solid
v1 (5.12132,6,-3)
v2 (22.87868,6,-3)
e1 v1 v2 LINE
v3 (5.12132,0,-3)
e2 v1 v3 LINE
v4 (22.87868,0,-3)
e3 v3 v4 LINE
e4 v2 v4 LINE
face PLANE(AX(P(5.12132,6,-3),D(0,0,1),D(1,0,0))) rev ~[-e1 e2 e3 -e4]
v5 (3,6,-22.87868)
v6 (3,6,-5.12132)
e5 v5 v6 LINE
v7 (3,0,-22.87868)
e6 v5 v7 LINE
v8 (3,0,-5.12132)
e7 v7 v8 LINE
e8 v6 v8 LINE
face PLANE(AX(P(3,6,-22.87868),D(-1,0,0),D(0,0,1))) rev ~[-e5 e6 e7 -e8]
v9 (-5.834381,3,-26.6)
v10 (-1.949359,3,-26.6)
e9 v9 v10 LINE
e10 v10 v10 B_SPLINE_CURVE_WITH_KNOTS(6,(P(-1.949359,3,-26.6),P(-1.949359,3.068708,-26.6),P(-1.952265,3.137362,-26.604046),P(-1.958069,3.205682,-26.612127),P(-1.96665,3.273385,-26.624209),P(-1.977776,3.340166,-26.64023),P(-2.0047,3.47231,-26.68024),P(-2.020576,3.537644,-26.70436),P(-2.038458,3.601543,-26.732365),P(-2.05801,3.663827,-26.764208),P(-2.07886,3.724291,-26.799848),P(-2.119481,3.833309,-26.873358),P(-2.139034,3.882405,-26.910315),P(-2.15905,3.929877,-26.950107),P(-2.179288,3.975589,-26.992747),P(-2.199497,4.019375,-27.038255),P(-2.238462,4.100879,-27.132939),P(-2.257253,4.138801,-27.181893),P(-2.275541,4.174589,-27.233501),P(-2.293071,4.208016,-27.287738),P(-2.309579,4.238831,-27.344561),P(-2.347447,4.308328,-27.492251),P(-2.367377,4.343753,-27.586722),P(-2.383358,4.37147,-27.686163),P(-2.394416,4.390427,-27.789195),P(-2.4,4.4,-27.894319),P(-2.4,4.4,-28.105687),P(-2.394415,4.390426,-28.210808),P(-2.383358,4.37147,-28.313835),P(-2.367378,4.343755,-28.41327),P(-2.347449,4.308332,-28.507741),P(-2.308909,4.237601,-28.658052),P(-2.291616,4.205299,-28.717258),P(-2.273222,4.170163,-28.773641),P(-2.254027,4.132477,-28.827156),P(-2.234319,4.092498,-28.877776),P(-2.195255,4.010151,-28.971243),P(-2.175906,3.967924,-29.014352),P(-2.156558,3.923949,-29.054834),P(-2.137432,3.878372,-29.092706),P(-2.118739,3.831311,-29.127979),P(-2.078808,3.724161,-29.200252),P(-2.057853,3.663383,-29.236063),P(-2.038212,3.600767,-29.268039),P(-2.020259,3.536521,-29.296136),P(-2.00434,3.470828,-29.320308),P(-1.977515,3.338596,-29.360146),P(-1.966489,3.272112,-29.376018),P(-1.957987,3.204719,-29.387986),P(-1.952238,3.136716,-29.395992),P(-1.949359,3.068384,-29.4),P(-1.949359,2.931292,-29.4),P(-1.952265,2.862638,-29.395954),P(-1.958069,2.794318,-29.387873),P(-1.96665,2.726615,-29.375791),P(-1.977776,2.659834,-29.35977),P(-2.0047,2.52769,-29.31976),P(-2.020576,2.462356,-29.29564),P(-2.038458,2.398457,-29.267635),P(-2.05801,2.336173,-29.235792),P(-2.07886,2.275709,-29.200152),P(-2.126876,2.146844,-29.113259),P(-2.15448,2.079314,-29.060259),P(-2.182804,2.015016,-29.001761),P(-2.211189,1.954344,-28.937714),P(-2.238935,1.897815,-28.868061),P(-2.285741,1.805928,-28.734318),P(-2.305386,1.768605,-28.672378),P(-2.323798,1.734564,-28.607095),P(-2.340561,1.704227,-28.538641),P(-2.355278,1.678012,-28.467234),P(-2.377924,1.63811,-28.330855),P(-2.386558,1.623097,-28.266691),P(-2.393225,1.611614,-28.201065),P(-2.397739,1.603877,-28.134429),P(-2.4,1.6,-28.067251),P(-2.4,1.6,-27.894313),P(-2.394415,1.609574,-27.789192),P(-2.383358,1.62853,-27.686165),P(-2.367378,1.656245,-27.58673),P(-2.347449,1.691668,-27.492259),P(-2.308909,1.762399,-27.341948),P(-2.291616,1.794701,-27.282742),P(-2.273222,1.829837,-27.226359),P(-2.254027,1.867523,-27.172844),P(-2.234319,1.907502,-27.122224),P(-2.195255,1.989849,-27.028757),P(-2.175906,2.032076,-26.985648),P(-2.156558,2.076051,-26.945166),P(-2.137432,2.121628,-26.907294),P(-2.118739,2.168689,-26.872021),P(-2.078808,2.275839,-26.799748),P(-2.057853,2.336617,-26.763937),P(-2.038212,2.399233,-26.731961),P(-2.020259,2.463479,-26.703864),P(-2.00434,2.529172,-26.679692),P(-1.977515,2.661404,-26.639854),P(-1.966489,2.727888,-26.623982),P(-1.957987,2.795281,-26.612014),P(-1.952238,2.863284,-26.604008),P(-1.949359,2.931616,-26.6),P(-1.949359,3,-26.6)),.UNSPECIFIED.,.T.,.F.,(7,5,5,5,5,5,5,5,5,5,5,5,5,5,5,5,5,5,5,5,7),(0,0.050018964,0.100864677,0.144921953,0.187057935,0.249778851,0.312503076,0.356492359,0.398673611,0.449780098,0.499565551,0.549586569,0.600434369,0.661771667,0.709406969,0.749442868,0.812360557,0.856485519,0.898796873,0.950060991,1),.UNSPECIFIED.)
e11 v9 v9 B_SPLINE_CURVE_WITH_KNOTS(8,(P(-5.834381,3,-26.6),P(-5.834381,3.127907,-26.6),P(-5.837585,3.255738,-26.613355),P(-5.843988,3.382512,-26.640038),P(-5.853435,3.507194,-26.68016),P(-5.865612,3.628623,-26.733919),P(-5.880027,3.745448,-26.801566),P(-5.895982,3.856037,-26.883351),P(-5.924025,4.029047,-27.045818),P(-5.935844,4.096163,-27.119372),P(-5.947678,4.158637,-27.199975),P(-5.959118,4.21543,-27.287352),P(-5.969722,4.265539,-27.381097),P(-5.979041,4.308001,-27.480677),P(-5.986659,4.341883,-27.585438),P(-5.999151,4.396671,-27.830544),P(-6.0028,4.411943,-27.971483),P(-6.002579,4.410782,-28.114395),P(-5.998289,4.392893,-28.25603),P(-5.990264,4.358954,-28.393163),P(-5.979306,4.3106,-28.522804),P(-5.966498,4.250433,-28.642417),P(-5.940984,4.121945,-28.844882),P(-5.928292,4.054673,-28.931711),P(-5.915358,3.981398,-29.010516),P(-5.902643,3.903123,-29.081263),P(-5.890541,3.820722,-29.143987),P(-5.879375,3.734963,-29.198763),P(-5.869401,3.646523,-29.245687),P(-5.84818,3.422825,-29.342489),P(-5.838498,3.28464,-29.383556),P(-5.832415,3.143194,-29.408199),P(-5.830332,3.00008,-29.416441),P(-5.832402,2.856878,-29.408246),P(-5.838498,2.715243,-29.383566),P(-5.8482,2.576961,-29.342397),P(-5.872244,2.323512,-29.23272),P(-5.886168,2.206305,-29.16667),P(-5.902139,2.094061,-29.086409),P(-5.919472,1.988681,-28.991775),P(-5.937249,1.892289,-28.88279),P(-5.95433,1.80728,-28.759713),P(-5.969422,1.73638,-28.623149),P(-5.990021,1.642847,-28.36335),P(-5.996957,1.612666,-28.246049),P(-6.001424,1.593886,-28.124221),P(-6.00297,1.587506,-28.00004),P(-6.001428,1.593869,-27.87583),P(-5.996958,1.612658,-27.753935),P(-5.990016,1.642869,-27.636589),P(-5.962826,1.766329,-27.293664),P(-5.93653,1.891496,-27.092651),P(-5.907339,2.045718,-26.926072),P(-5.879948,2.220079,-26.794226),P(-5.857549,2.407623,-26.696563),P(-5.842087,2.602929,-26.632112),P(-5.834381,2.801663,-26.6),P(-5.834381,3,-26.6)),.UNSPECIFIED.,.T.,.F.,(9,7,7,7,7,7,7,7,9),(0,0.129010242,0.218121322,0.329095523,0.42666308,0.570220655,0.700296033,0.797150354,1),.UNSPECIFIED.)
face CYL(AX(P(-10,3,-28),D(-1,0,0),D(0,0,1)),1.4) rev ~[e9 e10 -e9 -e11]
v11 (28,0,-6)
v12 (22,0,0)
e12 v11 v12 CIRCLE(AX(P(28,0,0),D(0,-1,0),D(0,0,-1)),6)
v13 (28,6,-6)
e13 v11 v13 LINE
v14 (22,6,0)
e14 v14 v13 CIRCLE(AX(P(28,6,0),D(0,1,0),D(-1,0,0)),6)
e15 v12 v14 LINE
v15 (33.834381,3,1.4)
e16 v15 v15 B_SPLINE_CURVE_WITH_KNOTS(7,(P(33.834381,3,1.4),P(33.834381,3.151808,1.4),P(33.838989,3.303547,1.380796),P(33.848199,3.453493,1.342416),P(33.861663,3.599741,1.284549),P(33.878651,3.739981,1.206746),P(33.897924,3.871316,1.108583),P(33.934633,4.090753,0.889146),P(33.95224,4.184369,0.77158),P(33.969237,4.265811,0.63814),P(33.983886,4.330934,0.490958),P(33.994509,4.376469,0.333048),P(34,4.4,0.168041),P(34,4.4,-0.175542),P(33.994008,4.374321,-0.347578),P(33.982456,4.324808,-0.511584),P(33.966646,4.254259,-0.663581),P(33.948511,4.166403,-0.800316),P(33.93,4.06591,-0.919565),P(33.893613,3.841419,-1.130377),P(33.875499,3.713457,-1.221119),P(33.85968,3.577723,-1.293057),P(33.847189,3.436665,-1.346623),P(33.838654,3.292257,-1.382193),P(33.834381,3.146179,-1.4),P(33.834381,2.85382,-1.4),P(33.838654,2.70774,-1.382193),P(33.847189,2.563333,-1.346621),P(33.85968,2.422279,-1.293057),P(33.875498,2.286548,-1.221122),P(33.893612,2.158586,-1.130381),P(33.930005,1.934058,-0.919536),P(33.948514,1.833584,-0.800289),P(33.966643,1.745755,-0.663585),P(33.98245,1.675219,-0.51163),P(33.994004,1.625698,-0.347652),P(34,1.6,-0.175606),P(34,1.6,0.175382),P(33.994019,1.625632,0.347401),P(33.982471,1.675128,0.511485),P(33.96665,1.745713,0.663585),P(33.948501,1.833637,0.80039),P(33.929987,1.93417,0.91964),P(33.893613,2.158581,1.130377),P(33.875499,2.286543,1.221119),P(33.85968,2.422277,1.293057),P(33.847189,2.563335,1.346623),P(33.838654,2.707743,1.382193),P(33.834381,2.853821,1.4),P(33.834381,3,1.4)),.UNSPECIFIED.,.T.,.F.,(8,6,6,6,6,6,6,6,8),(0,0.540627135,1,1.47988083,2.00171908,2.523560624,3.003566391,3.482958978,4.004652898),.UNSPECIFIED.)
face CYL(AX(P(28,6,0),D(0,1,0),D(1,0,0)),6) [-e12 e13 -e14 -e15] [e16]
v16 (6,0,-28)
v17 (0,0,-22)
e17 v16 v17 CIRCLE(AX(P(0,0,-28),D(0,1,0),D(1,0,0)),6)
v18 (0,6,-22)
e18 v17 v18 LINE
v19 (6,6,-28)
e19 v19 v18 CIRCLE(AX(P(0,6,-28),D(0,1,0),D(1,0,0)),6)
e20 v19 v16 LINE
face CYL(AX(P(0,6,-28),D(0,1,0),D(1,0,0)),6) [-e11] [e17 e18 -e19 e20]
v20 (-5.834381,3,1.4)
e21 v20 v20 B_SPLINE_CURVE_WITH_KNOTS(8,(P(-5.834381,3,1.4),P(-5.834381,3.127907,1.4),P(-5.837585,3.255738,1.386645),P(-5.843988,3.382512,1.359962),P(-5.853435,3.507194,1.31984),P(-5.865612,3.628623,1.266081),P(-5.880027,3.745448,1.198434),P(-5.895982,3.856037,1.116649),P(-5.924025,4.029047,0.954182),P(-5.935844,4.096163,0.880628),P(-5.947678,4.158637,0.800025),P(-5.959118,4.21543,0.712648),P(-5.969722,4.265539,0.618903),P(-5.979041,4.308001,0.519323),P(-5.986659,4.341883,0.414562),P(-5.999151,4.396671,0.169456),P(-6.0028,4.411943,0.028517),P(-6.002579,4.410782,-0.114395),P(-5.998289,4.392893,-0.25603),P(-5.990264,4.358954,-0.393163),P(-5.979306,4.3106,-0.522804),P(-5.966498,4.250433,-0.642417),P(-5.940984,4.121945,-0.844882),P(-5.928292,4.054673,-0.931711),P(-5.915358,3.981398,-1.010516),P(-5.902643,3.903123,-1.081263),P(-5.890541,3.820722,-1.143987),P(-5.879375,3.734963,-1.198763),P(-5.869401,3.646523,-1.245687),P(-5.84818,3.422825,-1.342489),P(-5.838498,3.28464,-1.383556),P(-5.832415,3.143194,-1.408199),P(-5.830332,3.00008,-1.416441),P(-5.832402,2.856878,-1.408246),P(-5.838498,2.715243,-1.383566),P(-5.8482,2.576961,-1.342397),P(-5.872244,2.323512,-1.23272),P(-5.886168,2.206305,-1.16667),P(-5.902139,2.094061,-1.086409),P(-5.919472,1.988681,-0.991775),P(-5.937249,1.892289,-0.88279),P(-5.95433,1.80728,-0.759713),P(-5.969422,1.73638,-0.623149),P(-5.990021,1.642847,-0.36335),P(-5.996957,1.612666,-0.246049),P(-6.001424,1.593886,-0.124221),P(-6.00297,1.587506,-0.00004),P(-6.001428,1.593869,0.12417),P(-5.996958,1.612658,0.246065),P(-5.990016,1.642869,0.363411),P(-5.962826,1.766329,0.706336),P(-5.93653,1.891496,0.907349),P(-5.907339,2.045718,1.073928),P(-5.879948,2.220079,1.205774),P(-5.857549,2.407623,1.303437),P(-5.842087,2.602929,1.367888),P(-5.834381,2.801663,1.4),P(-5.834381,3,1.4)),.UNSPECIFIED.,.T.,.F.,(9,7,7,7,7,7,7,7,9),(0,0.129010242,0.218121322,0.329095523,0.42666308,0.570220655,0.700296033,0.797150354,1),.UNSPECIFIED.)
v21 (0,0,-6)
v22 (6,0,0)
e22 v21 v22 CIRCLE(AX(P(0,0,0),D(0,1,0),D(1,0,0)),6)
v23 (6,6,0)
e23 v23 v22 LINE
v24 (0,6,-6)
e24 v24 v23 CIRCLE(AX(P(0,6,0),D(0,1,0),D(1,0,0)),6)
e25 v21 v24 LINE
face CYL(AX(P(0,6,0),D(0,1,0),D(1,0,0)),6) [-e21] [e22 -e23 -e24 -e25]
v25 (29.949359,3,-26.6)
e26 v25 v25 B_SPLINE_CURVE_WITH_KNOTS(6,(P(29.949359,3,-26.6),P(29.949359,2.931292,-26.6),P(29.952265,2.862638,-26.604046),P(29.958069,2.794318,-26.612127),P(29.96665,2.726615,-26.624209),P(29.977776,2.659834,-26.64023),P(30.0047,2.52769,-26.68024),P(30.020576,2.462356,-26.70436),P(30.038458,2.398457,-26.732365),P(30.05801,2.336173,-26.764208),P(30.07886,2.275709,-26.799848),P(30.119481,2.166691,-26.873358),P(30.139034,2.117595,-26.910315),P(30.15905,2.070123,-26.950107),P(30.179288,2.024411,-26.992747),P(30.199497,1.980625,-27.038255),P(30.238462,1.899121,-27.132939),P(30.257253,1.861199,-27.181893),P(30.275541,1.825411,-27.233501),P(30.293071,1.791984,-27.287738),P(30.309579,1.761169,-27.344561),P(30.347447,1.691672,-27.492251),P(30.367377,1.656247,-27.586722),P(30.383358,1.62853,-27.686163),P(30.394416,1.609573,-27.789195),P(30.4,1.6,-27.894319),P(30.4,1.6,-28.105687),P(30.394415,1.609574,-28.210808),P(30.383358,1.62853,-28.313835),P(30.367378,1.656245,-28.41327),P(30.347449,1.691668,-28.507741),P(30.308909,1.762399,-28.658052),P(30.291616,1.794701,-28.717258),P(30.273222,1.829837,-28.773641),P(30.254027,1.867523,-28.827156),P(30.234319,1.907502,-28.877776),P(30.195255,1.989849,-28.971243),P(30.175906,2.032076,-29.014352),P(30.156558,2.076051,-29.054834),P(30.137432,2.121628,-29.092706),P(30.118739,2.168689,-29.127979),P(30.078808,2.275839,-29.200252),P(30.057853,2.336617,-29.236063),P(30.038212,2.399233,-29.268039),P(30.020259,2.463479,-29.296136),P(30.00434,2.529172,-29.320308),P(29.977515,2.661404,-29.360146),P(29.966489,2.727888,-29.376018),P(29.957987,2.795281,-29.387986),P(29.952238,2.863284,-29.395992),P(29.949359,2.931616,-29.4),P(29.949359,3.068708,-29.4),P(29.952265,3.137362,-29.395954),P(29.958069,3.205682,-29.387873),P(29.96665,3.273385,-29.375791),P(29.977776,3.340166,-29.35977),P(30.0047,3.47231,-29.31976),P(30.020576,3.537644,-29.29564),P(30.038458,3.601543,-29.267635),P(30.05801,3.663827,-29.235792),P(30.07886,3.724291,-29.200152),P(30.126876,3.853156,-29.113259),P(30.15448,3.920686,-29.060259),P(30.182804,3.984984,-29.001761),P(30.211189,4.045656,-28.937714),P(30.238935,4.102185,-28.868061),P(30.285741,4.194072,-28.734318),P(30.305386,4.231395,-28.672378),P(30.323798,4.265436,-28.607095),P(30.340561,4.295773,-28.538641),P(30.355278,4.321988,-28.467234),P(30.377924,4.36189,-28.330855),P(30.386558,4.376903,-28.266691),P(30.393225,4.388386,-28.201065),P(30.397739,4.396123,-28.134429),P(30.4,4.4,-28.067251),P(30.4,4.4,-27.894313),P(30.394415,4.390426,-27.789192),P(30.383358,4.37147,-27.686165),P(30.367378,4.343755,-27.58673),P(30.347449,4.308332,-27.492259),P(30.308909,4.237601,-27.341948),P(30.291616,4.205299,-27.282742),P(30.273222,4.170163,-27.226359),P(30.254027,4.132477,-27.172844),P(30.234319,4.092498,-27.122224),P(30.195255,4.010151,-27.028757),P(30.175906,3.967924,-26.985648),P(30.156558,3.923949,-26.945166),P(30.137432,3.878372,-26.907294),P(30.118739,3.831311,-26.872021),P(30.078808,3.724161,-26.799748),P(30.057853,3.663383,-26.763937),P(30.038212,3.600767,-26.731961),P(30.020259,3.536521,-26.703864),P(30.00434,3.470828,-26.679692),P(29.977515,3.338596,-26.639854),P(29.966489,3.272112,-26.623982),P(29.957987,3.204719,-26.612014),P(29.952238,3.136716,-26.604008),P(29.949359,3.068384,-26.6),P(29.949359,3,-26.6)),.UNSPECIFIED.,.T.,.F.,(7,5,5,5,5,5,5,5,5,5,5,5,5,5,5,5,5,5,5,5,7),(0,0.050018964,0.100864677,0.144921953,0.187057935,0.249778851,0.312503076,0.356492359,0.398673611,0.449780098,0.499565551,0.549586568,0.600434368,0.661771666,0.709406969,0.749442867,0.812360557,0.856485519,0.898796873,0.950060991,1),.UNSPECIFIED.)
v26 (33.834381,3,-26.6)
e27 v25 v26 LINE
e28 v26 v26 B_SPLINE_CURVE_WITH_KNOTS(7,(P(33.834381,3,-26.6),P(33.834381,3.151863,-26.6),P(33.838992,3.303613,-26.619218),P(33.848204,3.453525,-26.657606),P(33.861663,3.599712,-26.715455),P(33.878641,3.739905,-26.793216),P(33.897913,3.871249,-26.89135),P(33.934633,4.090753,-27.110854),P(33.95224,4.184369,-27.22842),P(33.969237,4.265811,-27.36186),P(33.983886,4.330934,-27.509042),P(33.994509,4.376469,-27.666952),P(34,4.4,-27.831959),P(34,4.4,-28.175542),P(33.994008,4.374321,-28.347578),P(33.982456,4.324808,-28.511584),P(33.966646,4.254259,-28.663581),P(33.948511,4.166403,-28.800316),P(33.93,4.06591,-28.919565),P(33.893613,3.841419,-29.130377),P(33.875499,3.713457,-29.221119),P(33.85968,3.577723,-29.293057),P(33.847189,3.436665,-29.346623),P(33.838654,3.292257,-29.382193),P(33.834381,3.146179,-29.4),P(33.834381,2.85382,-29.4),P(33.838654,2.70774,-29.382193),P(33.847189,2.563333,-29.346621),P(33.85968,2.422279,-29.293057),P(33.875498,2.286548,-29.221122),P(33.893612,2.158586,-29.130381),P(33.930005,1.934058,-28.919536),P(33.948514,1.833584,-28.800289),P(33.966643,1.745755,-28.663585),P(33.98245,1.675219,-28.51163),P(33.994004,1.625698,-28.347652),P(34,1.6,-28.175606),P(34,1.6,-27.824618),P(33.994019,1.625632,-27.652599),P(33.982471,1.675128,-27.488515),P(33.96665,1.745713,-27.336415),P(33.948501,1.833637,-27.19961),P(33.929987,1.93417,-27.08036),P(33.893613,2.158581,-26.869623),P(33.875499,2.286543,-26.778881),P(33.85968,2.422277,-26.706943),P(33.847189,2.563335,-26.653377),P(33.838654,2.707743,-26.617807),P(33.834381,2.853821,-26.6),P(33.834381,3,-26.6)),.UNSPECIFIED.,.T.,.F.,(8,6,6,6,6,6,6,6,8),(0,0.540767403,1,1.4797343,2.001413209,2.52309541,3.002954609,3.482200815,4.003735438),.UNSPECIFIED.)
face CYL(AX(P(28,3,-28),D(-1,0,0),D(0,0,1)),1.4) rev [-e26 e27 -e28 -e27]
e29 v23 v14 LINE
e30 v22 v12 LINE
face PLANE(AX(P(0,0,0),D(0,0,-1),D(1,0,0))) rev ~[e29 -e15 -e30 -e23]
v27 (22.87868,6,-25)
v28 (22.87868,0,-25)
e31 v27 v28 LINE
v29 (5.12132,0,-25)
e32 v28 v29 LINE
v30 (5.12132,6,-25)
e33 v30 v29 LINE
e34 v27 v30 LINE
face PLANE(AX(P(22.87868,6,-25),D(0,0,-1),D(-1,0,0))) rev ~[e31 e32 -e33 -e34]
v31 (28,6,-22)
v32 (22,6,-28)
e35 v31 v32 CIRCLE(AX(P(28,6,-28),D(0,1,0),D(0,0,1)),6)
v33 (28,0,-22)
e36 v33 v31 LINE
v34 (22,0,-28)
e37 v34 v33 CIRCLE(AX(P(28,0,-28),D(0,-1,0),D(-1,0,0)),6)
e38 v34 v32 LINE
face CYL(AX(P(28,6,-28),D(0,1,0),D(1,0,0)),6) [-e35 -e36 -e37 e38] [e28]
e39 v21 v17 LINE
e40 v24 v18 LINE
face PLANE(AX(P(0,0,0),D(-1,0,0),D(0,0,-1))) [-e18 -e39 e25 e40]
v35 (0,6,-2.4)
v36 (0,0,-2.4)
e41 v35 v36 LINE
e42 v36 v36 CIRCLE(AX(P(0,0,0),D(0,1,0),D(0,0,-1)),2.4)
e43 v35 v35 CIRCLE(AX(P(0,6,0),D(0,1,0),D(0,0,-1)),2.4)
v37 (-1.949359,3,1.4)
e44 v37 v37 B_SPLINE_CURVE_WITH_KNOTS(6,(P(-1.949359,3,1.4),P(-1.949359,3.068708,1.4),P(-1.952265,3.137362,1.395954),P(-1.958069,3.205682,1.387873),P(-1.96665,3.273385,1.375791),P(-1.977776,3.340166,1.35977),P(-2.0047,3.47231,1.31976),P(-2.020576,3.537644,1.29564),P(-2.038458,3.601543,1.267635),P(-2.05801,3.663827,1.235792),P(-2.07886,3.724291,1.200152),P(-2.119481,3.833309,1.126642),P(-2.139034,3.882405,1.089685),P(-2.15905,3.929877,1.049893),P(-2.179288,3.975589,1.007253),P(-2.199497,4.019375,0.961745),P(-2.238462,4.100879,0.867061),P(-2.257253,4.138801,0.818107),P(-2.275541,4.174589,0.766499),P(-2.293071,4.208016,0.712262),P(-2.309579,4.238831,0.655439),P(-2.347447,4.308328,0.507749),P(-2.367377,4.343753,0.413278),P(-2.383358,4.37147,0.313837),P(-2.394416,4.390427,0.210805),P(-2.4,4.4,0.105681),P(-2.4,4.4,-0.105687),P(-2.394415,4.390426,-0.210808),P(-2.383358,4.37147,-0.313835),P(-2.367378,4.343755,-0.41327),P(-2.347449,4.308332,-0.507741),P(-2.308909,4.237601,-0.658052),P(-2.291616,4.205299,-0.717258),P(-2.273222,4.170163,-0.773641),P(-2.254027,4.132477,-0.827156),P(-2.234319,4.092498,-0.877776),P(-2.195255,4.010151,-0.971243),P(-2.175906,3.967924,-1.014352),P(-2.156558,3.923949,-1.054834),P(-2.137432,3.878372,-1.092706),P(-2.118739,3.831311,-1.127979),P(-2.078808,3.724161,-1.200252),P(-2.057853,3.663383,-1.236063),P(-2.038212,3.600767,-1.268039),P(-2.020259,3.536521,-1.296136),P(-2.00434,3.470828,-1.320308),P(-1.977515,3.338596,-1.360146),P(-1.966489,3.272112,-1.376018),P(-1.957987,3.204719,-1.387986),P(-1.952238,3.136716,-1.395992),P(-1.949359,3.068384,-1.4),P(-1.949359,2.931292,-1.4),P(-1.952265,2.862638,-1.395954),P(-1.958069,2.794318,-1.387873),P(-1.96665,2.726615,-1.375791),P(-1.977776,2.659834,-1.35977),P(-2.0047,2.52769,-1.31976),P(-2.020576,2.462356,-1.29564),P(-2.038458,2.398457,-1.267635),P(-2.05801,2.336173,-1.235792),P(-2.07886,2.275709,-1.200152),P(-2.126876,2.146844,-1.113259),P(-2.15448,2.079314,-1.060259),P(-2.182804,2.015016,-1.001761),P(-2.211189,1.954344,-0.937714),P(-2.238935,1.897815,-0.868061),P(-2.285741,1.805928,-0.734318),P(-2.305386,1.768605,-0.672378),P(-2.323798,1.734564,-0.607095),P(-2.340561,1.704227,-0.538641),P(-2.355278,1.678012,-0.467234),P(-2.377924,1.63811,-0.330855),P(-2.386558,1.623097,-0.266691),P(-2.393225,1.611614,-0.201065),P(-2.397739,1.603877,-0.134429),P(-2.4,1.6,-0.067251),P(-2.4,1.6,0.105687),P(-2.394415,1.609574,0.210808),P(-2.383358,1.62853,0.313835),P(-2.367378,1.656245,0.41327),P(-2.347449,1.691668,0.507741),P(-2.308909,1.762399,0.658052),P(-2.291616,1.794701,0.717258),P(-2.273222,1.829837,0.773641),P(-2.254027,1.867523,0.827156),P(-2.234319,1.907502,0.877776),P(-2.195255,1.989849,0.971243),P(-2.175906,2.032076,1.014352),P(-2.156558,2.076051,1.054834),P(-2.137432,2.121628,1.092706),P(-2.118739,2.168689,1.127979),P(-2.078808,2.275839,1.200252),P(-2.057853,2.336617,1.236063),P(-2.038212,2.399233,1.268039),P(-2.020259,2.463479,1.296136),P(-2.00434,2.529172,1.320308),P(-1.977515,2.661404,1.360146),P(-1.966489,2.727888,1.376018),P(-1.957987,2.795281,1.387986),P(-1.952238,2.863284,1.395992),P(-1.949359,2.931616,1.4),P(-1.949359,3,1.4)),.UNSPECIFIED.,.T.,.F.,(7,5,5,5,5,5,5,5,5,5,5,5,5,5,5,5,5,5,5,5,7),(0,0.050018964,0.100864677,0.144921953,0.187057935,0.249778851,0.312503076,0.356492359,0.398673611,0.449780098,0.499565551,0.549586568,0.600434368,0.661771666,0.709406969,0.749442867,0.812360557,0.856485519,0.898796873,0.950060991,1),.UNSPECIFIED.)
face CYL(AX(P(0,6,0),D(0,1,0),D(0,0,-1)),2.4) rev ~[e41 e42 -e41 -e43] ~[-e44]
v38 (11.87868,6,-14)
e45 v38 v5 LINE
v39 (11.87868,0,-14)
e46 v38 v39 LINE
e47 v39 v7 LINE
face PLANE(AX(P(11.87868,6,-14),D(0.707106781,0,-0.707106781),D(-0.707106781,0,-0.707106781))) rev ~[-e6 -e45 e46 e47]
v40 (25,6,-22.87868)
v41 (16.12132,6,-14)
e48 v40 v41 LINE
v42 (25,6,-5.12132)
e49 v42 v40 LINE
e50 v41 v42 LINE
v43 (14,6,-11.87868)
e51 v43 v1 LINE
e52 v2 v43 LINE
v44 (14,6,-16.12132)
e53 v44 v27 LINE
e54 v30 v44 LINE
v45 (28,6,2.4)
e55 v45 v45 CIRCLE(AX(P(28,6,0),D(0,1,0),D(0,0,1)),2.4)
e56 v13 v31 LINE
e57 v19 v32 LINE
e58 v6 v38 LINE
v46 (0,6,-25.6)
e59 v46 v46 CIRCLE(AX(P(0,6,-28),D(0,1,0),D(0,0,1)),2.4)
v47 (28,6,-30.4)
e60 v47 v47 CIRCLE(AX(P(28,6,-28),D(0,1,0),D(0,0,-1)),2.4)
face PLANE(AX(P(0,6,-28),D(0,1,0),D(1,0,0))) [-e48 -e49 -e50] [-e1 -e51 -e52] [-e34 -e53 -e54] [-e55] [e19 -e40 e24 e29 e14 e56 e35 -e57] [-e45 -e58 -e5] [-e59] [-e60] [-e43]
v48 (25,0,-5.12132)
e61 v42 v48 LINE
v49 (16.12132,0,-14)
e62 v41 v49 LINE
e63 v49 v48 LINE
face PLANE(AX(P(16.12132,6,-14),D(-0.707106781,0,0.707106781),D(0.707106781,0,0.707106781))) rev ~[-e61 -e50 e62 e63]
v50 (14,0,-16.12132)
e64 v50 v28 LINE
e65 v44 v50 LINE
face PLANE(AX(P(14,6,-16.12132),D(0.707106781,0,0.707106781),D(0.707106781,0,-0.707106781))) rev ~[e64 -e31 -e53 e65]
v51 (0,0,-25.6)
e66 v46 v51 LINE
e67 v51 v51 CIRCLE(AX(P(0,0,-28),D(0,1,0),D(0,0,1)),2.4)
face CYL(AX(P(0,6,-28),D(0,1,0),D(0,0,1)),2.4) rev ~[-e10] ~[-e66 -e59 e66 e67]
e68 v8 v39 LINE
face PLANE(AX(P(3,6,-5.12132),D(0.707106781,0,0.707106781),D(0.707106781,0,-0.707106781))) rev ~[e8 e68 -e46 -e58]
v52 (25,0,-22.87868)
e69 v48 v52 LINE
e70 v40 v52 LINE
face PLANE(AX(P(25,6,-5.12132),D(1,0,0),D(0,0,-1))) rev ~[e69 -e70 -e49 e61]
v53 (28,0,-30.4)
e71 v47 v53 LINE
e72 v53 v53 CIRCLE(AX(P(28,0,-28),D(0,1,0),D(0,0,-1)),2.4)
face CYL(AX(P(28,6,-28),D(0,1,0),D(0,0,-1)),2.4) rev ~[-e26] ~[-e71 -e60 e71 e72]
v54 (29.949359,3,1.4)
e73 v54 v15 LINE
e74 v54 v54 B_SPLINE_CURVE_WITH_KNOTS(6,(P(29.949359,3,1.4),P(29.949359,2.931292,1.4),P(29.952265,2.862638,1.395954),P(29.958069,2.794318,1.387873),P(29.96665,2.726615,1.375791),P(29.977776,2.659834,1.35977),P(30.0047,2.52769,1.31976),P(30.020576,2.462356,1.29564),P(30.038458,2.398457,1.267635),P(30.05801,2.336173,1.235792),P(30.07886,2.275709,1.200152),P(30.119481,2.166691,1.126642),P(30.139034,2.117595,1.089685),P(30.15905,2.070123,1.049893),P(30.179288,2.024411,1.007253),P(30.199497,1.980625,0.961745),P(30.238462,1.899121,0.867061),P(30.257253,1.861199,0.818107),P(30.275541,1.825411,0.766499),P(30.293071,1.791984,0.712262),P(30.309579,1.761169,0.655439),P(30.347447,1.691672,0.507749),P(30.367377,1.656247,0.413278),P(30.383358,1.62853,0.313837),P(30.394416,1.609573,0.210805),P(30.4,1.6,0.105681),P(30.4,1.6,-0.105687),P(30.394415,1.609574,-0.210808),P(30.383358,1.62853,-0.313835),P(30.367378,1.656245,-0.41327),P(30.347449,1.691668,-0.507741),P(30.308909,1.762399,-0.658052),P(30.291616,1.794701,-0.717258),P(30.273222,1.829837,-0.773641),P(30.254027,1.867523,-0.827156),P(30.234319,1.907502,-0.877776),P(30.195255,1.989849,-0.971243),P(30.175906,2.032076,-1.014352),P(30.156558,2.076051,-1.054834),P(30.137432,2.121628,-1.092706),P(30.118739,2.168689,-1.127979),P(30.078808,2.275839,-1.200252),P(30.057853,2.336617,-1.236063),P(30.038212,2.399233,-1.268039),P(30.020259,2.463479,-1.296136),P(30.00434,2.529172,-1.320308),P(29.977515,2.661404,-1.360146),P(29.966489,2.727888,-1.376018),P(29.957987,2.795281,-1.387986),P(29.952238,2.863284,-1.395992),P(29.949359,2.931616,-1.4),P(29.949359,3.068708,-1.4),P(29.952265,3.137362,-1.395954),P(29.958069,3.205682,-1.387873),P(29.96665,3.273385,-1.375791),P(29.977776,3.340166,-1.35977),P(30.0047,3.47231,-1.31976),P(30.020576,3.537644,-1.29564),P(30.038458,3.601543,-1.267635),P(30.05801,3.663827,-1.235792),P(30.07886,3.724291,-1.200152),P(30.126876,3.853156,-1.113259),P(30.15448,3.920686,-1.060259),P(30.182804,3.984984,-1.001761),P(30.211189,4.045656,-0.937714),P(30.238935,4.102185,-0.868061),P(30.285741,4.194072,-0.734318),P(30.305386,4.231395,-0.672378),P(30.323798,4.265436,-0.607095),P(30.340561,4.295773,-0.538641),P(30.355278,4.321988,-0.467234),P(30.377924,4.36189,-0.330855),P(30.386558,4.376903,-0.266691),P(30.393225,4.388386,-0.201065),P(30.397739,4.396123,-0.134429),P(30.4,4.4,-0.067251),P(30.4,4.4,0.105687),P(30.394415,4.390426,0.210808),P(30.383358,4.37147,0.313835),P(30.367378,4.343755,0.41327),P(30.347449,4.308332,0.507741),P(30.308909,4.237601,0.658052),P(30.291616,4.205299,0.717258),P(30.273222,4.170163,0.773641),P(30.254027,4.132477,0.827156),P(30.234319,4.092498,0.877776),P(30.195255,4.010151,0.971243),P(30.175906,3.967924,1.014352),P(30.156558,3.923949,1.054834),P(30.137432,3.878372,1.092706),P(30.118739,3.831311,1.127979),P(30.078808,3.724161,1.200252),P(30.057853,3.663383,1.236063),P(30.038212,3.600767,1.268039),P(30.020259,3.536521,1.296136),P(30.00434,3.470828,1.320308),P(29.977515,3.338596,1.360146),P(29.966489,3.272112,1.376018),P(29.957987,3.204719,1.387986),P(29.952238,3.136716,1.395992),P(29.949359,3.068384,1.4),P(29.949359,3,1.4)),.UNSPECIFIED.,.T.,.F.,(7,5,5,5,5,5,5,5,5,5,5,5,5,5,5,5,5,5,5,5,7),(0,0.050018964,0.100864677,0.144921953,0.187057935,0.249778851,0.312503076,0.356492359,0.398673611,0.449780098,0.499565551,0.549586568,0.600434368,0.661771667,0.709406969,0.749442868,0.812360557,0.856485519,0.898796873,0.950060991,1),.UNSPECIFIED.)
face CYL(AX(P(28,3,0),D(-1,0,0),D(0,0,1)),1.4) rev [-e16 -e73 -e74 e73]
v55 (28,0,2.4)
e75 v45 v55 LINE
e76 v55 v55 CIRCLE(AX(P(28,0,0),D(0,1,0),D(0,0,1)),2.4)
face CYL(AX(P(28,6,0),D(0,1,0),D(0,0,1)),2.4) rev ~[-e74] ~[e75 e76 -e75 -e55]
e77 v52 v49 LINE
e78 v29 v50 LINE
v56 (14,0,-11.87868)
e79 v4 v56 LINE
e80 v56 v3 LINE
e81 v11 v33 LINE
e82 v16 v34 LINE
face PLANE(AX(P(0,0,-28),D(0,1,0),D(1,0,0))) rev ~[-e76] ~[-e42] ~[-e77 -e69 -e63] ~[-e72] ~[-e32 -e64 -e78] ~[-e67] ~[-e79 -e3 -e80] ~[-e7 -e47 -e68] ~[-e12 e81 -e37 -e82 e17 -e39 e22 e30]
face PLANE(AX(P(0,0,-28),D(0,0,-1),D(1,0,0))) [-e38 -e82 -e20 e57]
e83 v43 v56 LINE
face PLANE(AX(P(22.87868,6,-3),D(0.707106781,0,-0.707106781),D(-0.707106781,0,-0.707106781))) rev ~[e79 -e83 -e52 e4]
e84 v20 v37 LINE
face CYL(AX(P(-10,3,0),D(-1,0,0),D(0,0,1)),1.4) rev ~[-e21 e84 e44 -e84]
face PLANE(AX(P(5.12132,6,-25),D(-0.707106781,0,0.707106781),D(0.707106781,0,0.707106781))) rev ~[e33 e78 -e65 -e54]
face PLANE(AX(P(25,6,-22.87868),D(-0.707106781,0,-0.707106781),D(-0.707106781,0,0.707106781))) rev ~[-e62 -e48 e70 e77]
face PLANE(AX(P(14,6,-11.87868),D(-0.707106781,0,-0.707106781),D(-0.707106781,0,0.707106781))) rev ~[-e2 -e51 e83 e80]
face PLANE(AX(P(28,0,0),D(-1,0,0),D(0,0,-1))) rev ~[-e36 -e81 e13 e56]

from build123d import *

# Parameters (mm, degrees)
SKETCH1_W           = 28
SKETCH1_H           = 28
BOSS_EXTRUDE1_DEPTH = 6
SKETCH2_R           = 6
BOSS_EXTRUDE2_DEPTH = 6
SKETCH3_R           = 2.4
CUT_EXTRUDE1_DEPTH  = 49.456165758
CUT_EXTRUDE2_DEPTH  = 10
SKETCH5_R           = 1.4
CUT_EXTRUDE3_DEPTH  = 10
CUT_EXTRUDE4_START  = 10
SKETCH6_R           = 1.4
CUT_EXTRUDE4_DEPTH  = 10


with BuildPart() as part:
    # Sketch1 → Boss-Extrude1 (new body)
    with BuildSketch(Plane(origin=(0, 0, 0), x_dir=(1, 0, 0), z_dir=(0, 1, 0))):
        with Locations((14, 14)):
            Rectangle(SKETCH1_W, SKETCH1_H)
    extrude(amount=BOSS_EXTRUDE1_DEPTH)

    # Sketch2 → Boss-Extrude2 (add)
    with BuildSketch(Plane(origin=(0, 6, 0), x_dir=(1, 0, 0), z_dir=(0, 1, 0))):
        with Locations((0, 28)):
            Circle(SKETCH2_R)
        with Locations((28, 28)):
            Circle(SKETCH2_R)
        with Locations((28, 0)):
            Circle(SKETCH2_R)
        Circle(SKETCH2_R)
    extrude(amount=-BOSS_EXTRUDE2_DEPTH)

    # Sketch3 → Cut-Extrude1 (cut, through all)
    with BuildSketch(Plane(origin=(0, 6, 0), x_dir=(1, 0, 0), z_dir=(0, 1, 0))):
        with Locations(Location((0, 28, 0), (0, 0, 270))):
            Circle(SKETCH3_R)
        with Locations(Location((28, 28, 0), (0, 0, 90))):
            Circle(SKETCH3_R)
        with Locations(Location((28, 0, 0), (0, 0, 270))):
            Circle(SKETCH3_R)
        with Locations(Location((0, 0, 0), (0, 0, 90))):
            Circle(SKETCH3_R)
    extrude(amount=-CUT_EXTRUDE1_DEPTH, mode=Mode.SUBTRACT)

    # Sketch4 → Cut-Extrude2 (cut)
    with BuildSketch(Plane(origin=(0, 6, 0), x_dir=(1, 0, 0), z_dir=(0, 1, 0))):
        Polygon((11.878679656, 14), (3, 22.878679656), (3, 5.121320344), align=None)
        Polygon((22.878679656, 25), (5.121320344, 25), (14, 16.121320344), align=None)
        Polygon((25, 5.121320344), (25, 22.878679656), (16.121320344, 14), align=None)
        Polygon((14, 11.878679656), (5.121320344, 3), (22.878679656, 3), align=None)
    extrude(amount=-CUT_EXTRUDE2_DEPTH, mode=Mode.SUBTRACT)

    # Sketch5 → Cut-Extrude3 (cut)
    with BuildSketch(Plane(origin=(28, 0, 0), x_dir=(0, 0, -1), z_dir=(1, 0, 0))):
        with Locations(Location((0, 3, 0), (0, 0, 180))):
            Circle(SKETCH5_R)
        with Locations(Location((28, 3, 0), (0, 0, 180))):
            Circle(SKETCH5_R)
    extrude(amount=CUT_EXTRUDE3_DEPTH, mode=Mode.SUBTRACT)

    # Sketch6 → Cut-Extrude4 (cut)
    with BuildSketch(Plane.ZY.offset(CUT_EXTRUDE4_START)):
        with Locations((-28, 3)):
            Circle(SKETCH6_R)
        with Locations((0, 3)):
            Circle(SKETCH6_R)
    extrude(amount=-CUT_EXTRUDE4_DEPTH, mode=Mode.SUBTRACT)


solid = part.part
